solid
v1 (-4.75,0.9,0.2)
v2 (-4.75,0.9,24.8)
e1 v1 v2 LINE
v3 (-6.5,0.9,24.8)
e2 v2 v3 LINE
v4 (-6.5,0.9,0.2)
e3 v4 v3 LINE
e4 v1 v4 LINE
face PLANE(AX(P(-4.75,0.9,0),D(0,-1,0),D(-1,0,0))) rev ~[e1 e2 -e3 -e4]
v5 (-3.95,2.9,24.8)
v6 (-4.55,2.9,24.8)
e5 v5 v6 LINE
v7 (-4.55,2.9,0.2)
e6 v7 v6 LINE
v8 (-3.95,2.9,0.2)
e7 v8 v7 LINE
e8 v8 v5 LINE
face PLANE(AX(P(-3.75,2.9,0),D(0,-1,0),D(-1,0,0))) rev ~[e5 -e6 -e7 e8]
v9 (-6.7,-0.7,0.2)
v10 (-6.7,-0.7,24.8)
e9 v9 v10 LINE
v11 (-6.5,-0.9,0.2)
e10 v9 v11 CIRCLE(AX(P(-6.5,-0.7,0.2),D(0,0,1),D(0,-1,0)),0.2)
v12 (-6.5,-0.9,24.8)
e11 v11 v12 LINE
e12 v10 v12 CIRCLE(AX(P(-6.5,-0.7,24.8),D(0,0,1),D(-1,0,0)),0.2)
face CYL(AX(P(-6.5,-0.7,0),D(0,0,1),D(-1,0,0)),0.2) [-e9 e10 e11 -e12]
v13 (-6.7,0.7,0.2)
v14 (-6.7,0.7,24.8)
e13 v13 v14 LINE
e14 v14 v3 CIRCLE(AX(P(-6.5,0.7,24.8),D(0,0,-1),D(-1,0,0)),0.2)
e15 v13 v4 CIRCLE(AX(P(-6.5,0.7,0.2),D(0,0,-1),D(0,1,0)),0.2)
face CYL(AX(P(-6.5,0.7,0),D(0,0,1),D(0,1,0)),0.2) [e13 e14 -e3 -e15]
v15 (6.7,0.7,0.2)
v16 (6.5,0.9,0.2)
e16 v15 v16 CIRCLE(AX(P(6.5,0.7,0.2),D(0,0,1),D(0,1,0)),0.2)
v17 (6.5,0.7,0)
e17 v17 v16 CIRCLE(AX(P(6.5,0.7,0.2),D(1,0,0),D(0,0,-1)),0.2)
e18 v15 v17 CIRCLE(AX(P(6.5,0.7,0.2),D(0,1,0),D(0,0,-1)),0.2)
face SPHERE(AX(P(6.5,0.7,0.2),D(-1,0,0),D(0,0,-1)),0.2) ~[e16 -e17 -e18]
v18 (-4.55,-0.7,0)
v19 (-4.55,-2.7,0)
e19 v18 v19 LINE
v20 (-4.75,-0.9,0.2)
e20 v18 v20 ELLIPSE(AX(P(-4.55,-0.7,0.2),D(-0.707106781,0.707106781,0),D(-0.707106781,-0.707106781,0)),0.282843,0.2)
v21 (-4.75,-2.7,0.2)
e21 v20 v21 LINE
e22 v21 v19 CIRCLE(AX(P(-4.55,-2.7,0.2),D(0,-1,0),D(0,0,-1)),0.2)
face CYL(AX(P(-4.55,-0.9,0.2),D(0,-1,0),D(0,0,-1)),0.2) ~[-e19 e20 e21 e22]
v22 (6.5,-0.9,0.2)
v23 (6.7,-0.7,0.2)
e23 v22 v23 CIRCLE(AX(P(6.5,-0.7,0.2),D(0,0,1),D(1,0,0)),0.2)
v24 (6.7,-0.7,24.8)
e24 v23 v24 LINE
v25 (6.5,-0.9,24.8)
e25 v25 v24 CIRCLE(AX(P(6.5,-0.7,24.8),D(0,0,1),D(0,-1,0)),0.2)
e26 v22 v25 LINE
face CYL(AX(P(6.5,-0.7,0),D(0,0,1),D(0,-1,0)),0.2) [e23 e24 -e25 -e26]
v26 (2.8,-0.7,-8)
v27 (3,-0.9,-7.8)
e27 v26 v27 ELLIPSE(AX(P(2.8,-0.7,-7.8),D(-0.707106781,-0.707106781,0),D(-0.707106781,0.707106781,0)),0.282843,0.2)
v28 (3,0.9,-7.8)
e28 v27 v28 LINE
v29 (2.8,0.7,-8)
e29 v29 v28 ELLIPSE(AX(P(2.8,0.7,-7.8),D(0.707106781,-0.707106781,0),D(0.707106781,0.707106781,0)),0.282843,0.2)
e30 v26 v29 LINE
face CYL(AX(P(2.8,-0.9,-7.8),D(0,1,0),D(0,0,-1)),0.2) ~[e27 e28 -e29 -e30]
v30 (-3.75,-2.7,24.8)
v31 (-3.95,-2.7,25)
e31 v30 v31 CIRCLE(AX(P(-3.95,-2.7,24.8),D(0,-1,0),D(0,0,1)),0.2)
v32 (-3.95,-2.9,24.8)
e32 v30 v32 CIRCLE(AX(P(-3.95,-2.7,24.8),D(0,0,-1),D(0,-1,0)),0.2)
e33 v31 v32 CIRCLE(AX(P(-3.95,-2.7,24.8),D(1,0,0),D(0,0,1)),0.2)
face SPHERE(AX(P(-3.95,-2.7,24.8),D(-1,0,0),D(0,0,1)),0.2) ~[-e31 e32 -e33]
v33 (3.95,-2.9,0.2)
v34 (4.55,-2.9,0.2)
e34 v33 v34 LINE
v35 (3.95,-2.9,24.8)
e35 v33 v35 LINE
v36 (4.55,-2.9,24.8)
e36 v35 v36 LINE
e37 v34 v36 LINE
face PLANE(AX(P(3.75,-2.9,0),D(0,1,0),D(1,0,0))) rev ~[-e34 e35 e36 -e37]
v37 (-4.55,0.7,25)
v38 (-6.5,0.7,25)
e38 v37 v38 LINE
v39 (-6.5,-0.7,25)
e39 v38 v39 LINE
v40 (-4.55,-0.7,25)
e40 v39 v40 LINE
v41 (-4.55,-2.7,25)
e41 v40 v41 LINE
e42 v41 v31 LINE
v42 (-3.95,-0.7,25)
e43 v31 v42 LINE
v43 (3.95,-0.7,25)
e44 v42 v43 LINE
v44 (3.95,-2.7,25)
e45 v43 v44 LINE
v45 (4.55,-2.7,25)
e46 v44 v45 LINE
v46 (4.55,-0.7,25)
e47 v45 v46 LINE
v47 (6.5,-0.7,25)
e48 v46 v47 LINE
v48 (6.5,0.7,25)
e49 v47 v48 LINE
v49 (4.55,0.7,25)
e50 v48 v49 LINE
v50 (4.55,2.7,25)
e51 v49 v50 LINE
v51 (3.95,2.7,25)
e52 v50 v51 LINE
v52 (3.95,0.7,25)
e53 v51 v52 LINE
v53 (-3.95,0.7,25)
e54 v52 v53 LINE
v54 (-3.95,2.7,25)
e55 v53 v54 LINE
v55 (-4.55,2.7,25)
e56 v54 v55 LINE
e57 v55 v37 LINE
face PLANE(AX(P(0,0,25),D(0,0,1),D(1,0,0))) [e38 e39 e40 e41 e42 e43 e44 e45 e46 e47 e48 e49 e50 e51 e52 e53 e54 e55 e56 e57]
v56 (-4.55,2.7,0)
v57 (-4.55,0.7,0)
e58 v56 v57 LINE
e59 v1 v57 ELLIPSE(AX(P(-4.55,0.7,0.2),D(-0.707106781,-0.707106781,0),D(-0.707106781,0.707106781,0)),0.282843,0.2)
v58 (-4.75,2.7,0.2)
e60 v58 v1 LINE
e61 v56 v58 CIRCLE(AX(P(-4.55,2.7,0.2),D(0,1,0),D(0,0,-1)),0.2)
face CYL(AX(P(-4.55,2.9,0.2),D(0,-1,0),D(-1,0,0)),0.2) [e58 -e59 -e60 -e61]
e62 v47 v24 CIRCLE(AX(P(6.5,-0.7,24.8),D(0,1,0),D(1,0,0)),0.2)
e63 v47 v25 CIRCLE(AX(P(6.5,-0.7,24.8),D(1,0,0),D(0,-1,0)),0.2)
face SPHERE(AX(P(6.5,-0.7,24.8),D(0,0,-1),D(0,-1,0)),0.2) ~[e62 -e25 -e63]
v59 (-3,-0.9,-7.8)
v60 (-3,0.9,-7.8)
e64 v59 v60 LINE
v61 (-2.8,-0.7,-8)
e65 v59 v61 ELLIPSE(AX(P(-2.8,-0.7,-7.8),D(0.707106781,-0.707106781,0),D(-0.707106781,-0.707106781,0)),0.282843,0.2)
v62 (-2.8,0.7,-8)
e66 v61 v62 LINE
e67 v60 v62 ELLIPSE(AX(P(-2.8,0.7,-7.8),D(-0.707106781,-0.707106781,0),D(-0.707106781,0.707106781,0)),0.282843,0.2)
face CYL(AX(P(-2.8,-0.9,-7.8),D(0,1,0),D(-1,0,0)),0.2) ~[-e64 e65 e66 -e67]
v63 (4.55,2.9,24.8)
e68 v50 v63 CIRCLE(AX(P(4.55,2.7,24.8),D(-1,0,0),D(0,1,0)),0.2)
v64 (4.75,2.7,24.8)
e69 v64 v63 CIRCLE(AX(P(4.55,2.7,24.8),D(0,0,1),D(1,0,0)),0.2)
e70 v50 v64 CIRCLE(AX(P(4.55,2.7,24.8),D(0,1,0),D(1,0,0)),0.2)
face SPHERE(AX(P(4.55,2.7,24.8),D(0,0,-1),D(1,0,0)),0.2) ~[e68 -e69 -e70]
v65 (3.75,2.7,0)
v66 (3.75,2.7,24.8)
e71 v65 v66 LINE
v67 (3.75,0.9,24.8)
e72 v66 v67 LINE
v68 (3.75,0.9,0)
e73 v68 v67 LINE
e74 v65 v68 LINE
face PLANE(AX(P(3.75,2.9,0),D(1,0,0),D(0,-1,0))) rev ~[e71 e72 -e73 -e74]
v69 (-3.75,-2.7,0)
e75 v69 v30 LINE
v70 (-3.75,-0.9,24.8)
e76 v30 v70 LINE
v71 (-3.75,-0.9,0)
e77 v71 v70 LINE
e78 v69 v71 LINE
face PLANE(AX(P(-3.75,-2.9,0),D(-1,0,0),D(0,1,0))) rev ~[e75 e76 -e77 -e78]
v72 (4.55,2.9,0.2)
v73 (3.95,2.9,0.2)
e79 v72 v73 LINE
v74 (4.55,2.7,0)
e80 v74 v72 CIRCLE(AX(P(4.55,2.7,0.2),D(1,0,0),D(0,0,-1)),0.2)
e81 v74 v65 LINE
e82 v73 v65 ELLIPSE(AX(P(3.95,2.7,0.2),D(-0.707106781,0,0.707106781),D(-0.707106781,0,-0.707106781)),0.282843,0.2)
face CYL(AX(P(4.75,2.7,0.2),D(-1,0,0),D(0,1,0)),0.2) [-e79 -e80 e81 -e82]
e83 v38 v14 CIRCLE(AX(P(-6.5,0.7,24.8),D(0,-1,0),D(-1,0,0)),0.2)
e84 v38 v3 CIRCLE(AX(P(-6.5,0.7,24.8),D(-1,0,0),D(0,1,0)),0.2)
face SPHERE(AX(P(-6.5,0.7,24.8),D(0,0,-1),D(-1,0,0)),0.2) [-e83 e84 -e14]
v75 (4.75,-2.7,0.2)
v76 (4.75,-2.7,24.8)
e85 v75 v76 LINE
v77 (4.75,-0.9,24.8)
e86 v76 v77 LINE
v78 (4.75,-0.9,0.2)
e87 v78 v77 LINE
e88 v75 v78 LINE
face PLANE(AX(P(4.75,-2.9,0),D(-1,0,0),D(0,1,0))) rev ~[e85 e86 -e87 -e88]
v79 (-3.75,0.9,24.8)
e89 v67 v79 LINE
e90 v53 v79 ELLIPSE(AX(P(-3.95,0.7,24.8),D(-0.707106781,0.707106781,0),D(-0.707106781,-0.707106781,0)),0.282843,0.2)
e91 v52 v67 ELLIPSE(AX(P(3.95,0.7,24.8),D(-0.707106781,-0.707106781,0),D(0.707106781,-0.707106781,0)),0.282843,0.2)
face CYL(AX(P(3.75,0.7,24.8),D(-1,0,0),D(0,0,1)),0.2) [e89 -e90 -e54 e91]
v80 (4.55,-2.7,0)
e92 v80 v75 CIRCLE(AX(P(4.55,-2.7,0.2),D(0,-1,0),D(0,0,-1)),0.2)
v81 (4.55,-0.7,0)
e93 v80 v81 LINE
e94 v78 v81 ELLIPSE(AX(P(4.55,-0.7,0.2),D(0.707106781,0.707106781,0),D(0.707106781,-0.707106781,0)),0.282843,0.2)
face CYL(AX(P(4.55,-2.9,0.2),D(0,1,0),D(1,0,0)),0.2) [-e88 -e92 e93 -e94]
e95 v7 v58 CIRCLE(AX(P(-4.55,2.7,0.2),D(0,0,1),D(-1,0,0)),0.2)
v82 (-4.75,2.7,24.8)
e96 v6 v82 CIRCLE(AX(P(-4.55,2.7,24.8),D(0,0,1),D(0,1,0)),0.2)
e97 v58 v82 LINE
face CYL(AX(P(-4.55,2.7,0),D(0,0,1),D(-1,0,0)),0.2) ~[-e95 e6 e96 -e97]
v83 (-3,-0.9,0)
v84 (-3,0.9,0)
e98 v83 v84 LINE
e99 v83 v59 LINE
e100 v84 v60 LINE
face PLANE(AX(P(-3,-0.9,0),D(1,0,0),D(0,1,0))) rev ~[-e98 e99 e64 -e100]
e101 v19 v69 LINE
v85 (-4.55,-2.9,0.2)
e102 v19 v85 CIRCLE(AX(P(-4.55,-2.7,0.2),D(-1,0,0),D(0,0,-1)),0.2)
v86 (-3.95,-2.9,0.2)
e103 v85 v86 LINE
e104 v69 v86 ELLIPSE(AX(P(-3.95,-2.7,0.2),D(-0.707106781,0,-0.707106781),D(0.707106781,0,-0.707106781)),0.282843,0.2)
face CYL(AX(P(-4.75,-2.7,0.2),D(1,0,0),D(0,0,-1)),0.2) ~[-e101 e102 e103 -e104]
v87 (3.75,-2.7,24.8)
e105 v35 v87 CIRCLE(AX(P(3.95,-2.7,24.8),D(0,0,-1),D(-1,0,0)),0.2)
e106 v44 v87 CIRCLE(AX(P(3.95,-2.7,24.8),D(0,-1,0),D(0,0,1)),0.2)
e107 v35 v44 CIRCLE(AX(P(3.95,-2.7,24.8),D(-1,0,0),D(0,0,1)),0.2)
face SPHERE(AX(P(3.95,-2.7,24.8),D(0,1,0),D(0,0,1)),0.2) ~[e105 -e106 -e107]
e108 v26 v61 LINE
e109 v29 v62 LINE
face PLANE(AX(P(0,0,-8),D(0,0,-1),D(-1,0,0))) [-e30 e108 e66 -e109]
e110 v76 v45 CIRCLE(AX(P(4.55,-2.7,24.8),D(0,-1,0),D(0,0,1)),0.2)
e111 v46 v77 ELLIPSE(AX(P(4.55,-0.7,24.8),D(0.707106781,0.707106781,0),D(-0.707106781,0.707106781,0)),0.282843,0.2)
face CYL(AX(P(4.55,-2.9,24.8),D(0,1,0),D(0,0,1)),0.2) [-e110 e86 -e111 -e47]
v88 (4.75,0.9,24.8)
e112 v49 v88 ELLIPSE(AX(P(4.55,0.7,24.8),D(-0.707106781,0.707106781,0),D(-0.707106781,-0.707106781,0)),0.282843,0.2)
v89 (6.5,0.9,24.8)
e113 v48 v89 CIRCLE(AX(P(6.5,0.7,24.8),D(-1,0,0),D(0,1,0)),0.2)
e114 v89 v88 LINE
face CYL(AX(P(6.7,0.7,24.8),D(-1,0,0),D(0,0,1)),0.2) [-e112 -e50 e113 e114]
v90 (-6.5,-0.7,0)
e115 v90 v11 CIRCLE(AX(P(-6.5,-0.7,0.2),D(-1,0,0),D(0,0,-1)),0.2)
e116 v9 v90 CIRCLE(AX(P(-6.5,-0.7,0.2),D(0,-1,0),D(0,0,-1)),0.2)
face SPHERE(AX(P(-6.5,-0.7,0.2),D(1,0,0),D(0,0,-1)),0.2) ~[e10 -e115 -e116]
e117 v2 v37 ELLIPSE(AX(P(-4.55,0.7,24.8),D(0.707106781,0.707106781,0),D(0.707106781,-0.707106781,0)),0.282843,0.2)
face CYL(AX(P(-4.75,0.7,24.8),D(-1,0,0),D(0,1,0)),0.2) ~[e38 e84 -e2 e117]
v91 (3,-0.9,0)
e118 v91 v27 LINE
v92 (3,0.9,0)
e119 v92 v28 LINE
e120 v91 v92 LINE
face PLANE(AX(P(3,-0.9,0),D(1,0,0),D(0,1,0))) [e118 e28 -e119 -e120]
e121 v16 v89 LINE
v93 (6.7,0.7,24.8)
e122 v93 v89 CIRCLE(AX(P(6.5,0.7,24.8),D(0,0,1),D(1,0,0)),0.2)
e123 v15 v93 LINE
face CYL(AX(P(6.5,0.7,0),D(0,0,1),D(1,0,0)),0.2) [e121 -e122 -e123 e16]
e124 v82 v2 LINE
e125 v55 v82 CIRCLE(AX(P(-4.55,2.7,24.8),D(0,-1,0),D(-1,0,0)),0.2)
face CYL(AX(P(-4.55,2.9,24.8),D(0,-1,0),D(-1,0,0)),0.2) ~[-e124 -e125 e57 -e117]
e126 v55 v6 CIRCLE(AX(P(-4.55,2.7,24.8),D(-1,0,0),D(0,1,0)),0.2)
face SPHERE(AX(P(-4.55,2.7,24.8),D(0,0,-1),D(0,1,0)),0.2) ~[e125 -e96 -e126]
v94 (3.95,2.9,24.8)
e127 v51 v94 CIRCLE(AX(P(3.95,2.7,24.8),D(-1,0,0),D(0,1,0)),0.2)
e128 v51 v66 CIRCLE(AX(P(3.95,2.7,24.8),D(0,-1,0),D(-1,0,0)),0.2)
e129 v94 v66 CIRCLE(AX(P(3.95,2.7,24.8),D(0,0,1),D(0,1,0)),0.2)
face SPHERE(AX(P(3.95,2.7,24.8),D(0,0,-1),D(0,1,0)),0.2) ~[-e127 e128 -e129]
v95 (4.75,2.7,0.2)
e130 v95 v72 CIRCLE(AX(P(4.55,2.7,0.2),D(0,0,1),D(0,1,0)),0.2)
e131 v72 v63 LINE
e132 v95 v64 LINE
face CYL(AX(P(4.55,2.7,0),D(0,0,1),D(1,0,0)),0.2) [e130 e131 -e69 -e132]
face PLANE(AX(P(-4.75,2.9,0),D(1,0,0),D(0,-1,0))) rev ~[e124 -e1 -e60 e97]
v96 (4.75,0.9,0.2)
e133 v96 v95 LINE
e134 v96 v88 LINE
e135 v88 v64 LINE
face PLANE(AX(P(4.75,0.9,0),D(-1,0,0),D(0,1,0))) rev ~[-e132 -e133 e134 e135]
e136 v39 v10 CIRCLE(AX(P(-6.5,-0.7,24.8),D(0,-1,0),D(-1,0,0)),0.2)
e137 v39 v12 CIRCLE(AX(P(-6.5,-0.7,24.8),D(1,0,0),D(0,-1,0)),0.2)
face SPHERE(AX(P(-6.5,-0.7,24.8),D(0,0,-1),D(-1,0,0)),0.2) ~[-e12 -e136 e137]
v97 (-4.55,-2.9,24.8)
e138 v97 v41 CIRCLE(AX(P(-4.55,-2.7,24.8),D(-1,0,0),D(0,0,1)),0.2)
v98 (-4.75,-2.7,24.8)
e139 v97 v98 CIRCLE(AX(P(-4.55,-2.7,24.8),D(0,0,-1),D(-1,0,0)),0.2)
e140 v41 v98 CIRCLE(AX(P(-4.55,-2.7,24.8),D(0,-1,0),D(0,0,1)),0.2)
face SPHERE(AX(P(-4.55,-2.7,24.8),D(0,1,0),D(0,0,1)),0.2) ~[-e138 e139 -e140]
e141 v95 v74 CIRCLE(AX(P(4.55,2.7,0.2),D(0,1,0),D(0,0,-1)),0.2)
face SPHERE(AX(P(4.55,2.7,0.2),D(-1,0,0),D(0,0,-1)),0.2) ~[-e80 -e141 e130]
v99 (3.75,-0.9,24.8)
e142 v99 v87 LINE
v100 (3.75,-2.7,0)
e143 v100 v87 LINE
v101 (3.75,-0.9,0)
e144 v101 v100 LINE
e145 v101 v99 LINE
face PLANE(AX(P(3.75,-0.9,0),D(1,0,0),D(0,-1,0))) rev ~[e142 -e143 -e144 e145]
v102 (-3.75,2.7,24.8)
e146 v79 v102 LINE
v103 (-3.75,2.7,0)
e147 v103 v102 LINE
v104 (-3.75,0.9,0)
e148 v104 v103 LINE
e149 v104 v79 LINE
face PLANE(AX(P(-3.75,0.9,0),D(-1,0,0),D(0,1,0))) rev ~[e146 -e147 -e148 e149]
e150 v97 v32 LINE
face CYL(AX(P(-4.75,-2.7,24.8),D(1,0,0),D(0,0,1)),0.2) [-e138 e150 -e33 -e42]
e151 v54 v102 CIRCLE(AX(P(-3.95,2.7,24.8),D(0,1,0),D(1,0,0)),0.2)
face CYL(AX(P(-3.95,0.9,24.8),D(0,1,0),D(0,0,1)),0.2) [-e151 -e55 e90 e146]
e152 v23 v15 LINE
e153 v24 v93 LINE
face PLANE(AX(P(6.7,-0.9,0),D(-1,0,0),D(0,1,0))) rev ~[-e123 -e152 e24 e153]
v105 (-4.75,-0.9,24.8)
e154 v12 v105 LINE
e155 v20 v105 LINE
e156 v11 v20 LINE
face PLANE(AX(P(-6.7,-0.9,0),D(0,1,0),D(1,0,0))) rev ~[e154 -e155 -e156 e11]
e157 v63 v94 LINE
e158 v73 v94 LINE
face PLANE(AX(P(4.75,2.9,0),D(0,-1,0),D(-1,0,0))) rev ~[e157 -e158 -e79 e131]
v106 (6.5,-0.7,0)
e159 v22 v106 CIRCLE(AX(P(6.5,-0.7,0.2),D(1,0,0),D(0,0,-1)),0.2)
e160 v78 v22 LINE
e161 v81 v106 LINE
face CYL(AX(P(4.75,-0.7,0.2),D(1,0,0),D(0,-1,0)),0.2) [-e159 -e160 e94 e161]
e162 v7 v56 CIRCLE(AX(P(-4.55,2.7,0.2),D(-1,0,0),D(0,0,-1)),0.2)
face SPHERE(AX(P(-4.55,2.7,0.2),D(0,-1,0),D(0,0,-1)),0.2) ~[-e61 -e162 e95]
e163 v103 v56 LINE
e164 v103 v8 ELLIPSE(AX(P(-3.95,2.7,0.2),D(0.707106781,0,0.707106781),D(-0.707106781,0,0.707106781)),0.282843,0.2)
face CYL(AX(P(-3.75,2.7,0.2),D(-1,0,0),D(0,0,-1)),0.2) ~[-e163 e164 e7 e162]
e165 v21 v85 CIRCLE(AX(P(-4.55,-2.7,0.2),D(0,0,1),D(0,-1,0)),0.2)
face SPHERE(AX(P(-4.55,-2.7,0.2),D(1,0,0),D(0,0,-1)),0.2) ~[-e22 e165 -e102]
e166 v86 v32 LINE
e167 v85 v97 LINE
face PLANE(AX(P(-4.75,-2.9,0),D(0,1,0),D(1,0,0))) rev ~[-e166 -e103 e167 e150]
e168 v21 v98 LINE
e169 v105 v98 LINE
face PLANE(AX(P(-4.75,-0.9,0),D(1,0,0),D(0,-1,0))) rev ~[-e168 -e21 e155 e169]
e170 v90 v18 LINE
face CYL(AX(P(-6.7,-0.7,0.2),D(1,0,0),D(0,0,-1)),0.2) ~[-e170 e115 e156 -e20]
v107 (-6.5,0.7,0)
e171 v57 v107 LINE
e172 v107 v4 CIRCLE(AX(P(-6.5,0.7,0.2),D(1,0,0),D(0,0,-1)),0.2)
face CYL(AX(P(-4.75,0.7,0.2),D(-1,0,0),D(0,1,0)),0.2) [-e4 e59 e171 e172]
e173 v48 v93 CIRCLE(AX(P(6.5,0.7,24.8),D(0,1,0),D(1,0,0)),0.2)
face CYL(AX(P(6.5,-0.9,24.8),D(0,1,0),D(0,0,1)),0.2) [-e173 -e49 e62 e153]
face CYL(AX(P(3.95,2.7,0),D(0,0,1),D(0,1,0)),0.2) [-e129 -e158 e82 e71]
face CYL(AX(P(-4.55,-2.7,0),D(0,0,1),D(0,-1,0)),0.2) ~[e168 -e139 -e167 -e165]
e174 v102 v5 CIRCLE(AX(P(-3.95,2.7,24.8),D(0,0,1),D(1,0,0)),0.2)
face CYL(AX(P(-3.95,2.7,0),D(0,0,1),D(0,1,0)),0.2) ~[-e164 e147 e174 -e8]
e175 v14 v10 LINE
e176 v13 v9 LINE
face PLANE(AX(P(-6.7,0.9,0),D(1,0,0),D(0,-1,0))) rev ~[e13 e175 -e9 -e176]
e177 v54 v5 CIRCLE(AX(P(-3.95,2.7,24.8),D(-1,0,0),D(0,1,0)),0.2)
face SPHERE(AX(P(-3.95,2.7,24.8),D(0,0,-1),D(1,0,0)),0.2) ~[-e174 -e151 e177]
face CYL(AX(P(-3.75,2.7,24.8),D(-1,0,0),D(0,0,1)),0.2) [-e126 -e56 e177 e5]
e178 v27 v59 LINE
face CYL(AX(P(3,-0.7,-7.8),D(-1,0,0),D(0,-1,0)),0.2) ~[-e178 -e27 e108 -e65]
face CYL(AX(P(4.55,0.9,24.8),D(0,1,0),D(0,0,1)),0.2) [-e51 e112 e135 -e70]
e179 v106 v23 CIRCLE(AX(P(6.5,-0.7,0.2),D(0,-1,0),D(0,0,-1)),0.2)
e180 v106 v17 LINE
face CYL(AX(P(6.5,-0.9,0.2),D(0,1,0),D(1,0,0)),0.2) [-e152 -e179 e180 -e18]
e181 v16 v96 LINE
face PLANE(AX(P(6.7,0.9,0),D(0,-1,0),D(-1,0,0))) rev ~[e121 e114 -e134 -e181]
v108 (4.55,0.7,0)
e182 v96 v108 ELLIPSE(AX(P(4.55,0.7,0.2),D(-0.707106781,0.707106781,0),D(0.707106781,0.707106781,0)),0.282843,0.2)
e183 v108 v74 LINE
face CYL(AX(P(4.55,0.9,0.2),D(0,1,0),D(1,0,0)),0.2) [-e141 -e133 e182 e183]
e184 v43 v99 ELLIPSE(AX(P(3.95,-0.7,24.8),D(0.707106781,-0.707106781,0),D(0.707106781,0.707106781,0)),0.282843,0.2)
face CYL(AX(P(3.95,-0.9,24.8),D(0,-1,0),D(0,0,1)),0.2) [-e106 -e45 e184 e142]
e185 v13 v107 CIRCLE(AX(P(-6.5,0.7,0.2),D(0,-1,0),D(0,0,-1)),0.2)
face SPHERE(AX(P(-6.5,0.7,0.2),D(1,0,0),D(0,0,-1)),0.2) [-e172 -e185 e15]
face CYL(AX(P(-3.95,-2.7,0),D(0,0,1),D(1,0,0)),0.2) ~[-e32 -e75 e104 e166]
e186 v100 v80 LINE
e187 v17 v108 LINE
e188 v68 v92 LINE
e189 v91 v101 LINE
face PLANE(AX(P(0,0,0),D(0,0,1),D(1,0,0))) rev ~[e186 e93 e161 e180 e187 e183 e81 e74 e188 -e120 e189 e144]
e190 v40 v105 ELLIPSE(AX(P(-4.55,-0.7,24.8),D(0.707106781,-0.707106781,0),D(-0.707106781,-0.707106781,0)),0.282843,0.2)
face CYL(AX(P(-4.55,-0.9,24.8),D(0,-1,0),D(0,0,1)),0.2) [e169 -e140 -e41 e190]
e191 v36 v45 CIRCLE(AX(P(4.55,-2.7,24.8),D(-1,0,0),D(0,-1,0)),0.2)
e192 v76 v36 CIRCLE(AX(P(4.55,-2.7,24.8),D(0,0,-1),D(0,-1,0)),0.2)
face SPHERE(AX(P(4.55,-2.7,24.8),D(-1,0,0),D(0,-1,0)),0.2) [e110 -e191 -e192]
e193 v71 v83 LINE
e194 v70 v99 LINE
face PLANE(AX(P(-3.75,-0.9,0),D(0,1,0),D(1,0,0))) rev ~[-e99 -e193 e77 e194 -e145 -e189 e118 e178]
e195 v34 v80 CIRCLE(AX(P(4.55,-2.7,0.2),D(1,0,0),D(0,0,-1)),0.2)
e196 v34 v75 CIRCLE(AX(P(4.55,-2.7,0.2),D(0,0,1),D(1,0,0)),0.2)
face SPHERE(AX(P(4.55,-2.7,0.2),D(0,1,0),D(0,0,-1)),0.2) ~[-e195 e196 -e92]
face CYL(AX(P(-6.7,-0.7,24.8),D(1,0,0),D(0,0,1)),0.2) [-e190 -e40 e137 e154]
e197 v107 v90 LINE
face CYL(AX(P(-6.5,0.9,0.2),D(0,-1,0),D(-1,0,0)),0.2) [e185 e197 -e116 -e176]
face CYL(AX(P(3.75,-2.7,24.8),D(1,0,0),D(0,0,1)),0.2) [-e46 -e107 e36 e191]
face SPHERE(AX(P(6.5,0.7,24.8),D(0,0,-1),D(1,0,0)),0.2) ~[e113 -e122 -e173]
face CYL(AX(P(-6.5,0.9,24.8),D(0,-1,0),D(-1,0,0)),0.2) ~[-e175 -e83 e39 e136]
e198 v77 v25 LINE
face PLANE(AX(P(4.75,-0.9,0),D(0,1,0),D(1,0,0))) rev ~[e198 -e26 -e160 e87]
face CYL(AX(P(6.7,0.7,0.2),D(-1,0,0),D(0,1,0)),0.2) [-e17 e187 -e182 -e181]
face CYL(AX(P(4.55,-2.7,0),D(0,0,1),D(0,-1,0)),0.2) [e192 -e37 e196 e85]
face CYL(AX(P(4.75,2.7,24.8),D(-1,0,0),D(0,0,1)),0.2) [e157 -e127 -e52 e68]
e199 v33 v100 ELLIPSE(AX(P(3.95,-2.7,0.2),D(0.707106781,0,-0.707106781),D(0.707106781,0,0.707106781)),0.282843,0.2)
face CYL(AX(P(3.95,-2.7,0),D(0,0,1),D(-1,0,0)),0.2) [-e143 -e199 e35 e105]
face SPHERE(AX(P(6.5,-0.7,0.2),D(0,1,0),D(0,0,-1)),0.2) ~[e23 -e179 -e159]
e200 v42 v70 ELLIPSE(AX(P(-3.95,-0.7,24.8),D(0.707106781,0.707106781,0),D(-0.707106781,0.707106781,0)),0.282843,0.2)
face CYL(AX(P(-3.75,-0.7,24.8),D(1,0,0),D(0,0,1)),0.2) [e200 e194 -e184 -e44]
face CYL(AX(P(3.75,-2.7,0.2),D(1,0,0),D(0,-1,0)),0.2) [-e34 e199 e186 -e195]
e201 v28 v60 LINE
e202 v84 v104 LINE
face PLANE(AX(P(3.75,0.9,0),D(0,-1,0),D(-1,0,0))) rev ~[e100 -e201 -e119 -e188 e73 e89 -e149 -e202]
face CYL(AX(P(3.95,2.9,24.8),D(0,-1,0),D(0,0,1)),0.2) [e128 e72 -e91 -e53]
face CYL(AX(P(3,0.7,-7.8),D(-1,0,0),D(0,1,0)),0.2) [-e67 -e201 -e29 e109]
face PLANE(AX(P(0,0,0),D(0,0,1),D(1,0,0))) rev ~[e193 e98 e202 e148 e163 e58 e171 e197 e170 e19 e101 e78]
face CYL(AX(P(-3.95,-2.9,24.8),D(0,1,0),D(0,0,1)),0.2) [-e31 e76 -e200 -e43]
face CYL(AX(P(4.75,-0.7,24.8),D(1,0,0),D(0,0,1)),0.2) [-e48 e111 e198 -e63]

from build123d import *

# Parameters (mm, degrees)
AUFSATZ_LINEAR_AUSTRAGEN1_DEPTH = 25
SKIZZE2_W                       = 6
SKIZZE2_H                       = 1.8
AUFSATZ_LINEAR_AUSTRAGEN2_DEPTH = 8
VERRUNDUNG1_R                   = 0.2


with BuildPart() as part:
    # Skizze1 → Aufsatz-Linear austragen1 (new body)
    with BuildSketch(Plane.XY):
        Polygon((-4.75, 0.9), (-6.7, 0.9), (-6.7, -0.9), (-4.75, -0.9), (-4.75, -2.9), (-3.75, -2.9), (-3.75, -0.9), (3.75, -0.9), (3.75, -2.9), (4.75, -2.9), (4.75, -0.9), (6.7, -0.9), (6.7, 0.9), (4.75, 0.9), (4.75, 2.9), (3.75, 2.9), (3.75, 0.9), (-3.75, 0.9), (-3.75, 2.9), (-4.75, 2.9), align=None)
    extrude(amount=AUFSATZ_LINEAR_AUSTRAGEN1_DEPTH)

    # Skizze2 → Aufsatz-Linear austragen2 (add)
    with BuildSketch(Plane(origin=(0, 0, 0), x_dir=(-1, 0, 0), z_dir=(0, 0, -1))):
        Rectangle(SKIZZE2_W, SKIZZE2_H)
    extrude(amount=AUFSATZ_LINEAR_AUSTRAGEN2_DEPTH)

    # Verrundung1
    verrundung1_edges = [part.edges().sort_by_distance(p)[0] for p in [
        (-4.75, -1.9, 25),
        (-4.25, -2.9, 25),
        (-5.725, 0.9, 0),
        (-4.75, 1.9, 0),
        (-4.25, 2.9, 0),
        (-3.75, -1.9, 25),
        (4.25, 2.9, 0),
        (4.75, 1.9, 0),
        (5.725, 0.9, 0),
        (6.7, 0, 0),
        (5.725, -0.9, 0),
        (4.75, -1.9, 0),
        (4.25, -2.9, 0),
        (0, -0.9, 25),
        (-4.25, -2.9, 0),
        (-4.75, -1.9, 0),
        (-5.725, -0.9, 0),
        (-6.7, 0, 0),
        (3.75, -1.9, 25),
        (4.25, -2.9, 25),
        (-6.7, 0.9, 12.5),
        (-4.75, 2.9, 12.5),
        (-3.75, 2.9, 12.5),
        (3.75, 2.9, 12.5),
        (4.75, 2.9, 12.5),
        (6.7, 0.9, 12.5),
        (6.7, -0.9, 12.5),
        (4.75, -2.9, 12.5),
        (3.75, -2.9, 12.5),
        (-3.75, -2.9, 12.5),
        (-4.75, -2.9, 12.5),
        (-6.7, -0.9, 12.5),
        (4.75, -1.9, 25),
        (5.725, -0.9, 25),
        (6.7, 0, 25),
        (5.725, 0.9, 25),
        (-6.7, 0, 25),
        (4.75, 1.9, 25),
        (4.25, 2.9, 25),
        (3, 0, -8),
        (3.75, 1.9, 25),
        (0, -0.9, -8),
        (-3, 0, -8),
        (0, 0.9, -8),
        (0, 0.9, 25),
        (-3.75, 1.9, 25),
        (-4.25, 2.9, 25),
        (-4.75, 1.9, 25),
        (-5.725, 0.9, 25),
        (-5.725, -0.9, 25),
    ]]
    fillet(verrundung1_edges, radius=VERRUNDUNG1_R)


solid = part.part
